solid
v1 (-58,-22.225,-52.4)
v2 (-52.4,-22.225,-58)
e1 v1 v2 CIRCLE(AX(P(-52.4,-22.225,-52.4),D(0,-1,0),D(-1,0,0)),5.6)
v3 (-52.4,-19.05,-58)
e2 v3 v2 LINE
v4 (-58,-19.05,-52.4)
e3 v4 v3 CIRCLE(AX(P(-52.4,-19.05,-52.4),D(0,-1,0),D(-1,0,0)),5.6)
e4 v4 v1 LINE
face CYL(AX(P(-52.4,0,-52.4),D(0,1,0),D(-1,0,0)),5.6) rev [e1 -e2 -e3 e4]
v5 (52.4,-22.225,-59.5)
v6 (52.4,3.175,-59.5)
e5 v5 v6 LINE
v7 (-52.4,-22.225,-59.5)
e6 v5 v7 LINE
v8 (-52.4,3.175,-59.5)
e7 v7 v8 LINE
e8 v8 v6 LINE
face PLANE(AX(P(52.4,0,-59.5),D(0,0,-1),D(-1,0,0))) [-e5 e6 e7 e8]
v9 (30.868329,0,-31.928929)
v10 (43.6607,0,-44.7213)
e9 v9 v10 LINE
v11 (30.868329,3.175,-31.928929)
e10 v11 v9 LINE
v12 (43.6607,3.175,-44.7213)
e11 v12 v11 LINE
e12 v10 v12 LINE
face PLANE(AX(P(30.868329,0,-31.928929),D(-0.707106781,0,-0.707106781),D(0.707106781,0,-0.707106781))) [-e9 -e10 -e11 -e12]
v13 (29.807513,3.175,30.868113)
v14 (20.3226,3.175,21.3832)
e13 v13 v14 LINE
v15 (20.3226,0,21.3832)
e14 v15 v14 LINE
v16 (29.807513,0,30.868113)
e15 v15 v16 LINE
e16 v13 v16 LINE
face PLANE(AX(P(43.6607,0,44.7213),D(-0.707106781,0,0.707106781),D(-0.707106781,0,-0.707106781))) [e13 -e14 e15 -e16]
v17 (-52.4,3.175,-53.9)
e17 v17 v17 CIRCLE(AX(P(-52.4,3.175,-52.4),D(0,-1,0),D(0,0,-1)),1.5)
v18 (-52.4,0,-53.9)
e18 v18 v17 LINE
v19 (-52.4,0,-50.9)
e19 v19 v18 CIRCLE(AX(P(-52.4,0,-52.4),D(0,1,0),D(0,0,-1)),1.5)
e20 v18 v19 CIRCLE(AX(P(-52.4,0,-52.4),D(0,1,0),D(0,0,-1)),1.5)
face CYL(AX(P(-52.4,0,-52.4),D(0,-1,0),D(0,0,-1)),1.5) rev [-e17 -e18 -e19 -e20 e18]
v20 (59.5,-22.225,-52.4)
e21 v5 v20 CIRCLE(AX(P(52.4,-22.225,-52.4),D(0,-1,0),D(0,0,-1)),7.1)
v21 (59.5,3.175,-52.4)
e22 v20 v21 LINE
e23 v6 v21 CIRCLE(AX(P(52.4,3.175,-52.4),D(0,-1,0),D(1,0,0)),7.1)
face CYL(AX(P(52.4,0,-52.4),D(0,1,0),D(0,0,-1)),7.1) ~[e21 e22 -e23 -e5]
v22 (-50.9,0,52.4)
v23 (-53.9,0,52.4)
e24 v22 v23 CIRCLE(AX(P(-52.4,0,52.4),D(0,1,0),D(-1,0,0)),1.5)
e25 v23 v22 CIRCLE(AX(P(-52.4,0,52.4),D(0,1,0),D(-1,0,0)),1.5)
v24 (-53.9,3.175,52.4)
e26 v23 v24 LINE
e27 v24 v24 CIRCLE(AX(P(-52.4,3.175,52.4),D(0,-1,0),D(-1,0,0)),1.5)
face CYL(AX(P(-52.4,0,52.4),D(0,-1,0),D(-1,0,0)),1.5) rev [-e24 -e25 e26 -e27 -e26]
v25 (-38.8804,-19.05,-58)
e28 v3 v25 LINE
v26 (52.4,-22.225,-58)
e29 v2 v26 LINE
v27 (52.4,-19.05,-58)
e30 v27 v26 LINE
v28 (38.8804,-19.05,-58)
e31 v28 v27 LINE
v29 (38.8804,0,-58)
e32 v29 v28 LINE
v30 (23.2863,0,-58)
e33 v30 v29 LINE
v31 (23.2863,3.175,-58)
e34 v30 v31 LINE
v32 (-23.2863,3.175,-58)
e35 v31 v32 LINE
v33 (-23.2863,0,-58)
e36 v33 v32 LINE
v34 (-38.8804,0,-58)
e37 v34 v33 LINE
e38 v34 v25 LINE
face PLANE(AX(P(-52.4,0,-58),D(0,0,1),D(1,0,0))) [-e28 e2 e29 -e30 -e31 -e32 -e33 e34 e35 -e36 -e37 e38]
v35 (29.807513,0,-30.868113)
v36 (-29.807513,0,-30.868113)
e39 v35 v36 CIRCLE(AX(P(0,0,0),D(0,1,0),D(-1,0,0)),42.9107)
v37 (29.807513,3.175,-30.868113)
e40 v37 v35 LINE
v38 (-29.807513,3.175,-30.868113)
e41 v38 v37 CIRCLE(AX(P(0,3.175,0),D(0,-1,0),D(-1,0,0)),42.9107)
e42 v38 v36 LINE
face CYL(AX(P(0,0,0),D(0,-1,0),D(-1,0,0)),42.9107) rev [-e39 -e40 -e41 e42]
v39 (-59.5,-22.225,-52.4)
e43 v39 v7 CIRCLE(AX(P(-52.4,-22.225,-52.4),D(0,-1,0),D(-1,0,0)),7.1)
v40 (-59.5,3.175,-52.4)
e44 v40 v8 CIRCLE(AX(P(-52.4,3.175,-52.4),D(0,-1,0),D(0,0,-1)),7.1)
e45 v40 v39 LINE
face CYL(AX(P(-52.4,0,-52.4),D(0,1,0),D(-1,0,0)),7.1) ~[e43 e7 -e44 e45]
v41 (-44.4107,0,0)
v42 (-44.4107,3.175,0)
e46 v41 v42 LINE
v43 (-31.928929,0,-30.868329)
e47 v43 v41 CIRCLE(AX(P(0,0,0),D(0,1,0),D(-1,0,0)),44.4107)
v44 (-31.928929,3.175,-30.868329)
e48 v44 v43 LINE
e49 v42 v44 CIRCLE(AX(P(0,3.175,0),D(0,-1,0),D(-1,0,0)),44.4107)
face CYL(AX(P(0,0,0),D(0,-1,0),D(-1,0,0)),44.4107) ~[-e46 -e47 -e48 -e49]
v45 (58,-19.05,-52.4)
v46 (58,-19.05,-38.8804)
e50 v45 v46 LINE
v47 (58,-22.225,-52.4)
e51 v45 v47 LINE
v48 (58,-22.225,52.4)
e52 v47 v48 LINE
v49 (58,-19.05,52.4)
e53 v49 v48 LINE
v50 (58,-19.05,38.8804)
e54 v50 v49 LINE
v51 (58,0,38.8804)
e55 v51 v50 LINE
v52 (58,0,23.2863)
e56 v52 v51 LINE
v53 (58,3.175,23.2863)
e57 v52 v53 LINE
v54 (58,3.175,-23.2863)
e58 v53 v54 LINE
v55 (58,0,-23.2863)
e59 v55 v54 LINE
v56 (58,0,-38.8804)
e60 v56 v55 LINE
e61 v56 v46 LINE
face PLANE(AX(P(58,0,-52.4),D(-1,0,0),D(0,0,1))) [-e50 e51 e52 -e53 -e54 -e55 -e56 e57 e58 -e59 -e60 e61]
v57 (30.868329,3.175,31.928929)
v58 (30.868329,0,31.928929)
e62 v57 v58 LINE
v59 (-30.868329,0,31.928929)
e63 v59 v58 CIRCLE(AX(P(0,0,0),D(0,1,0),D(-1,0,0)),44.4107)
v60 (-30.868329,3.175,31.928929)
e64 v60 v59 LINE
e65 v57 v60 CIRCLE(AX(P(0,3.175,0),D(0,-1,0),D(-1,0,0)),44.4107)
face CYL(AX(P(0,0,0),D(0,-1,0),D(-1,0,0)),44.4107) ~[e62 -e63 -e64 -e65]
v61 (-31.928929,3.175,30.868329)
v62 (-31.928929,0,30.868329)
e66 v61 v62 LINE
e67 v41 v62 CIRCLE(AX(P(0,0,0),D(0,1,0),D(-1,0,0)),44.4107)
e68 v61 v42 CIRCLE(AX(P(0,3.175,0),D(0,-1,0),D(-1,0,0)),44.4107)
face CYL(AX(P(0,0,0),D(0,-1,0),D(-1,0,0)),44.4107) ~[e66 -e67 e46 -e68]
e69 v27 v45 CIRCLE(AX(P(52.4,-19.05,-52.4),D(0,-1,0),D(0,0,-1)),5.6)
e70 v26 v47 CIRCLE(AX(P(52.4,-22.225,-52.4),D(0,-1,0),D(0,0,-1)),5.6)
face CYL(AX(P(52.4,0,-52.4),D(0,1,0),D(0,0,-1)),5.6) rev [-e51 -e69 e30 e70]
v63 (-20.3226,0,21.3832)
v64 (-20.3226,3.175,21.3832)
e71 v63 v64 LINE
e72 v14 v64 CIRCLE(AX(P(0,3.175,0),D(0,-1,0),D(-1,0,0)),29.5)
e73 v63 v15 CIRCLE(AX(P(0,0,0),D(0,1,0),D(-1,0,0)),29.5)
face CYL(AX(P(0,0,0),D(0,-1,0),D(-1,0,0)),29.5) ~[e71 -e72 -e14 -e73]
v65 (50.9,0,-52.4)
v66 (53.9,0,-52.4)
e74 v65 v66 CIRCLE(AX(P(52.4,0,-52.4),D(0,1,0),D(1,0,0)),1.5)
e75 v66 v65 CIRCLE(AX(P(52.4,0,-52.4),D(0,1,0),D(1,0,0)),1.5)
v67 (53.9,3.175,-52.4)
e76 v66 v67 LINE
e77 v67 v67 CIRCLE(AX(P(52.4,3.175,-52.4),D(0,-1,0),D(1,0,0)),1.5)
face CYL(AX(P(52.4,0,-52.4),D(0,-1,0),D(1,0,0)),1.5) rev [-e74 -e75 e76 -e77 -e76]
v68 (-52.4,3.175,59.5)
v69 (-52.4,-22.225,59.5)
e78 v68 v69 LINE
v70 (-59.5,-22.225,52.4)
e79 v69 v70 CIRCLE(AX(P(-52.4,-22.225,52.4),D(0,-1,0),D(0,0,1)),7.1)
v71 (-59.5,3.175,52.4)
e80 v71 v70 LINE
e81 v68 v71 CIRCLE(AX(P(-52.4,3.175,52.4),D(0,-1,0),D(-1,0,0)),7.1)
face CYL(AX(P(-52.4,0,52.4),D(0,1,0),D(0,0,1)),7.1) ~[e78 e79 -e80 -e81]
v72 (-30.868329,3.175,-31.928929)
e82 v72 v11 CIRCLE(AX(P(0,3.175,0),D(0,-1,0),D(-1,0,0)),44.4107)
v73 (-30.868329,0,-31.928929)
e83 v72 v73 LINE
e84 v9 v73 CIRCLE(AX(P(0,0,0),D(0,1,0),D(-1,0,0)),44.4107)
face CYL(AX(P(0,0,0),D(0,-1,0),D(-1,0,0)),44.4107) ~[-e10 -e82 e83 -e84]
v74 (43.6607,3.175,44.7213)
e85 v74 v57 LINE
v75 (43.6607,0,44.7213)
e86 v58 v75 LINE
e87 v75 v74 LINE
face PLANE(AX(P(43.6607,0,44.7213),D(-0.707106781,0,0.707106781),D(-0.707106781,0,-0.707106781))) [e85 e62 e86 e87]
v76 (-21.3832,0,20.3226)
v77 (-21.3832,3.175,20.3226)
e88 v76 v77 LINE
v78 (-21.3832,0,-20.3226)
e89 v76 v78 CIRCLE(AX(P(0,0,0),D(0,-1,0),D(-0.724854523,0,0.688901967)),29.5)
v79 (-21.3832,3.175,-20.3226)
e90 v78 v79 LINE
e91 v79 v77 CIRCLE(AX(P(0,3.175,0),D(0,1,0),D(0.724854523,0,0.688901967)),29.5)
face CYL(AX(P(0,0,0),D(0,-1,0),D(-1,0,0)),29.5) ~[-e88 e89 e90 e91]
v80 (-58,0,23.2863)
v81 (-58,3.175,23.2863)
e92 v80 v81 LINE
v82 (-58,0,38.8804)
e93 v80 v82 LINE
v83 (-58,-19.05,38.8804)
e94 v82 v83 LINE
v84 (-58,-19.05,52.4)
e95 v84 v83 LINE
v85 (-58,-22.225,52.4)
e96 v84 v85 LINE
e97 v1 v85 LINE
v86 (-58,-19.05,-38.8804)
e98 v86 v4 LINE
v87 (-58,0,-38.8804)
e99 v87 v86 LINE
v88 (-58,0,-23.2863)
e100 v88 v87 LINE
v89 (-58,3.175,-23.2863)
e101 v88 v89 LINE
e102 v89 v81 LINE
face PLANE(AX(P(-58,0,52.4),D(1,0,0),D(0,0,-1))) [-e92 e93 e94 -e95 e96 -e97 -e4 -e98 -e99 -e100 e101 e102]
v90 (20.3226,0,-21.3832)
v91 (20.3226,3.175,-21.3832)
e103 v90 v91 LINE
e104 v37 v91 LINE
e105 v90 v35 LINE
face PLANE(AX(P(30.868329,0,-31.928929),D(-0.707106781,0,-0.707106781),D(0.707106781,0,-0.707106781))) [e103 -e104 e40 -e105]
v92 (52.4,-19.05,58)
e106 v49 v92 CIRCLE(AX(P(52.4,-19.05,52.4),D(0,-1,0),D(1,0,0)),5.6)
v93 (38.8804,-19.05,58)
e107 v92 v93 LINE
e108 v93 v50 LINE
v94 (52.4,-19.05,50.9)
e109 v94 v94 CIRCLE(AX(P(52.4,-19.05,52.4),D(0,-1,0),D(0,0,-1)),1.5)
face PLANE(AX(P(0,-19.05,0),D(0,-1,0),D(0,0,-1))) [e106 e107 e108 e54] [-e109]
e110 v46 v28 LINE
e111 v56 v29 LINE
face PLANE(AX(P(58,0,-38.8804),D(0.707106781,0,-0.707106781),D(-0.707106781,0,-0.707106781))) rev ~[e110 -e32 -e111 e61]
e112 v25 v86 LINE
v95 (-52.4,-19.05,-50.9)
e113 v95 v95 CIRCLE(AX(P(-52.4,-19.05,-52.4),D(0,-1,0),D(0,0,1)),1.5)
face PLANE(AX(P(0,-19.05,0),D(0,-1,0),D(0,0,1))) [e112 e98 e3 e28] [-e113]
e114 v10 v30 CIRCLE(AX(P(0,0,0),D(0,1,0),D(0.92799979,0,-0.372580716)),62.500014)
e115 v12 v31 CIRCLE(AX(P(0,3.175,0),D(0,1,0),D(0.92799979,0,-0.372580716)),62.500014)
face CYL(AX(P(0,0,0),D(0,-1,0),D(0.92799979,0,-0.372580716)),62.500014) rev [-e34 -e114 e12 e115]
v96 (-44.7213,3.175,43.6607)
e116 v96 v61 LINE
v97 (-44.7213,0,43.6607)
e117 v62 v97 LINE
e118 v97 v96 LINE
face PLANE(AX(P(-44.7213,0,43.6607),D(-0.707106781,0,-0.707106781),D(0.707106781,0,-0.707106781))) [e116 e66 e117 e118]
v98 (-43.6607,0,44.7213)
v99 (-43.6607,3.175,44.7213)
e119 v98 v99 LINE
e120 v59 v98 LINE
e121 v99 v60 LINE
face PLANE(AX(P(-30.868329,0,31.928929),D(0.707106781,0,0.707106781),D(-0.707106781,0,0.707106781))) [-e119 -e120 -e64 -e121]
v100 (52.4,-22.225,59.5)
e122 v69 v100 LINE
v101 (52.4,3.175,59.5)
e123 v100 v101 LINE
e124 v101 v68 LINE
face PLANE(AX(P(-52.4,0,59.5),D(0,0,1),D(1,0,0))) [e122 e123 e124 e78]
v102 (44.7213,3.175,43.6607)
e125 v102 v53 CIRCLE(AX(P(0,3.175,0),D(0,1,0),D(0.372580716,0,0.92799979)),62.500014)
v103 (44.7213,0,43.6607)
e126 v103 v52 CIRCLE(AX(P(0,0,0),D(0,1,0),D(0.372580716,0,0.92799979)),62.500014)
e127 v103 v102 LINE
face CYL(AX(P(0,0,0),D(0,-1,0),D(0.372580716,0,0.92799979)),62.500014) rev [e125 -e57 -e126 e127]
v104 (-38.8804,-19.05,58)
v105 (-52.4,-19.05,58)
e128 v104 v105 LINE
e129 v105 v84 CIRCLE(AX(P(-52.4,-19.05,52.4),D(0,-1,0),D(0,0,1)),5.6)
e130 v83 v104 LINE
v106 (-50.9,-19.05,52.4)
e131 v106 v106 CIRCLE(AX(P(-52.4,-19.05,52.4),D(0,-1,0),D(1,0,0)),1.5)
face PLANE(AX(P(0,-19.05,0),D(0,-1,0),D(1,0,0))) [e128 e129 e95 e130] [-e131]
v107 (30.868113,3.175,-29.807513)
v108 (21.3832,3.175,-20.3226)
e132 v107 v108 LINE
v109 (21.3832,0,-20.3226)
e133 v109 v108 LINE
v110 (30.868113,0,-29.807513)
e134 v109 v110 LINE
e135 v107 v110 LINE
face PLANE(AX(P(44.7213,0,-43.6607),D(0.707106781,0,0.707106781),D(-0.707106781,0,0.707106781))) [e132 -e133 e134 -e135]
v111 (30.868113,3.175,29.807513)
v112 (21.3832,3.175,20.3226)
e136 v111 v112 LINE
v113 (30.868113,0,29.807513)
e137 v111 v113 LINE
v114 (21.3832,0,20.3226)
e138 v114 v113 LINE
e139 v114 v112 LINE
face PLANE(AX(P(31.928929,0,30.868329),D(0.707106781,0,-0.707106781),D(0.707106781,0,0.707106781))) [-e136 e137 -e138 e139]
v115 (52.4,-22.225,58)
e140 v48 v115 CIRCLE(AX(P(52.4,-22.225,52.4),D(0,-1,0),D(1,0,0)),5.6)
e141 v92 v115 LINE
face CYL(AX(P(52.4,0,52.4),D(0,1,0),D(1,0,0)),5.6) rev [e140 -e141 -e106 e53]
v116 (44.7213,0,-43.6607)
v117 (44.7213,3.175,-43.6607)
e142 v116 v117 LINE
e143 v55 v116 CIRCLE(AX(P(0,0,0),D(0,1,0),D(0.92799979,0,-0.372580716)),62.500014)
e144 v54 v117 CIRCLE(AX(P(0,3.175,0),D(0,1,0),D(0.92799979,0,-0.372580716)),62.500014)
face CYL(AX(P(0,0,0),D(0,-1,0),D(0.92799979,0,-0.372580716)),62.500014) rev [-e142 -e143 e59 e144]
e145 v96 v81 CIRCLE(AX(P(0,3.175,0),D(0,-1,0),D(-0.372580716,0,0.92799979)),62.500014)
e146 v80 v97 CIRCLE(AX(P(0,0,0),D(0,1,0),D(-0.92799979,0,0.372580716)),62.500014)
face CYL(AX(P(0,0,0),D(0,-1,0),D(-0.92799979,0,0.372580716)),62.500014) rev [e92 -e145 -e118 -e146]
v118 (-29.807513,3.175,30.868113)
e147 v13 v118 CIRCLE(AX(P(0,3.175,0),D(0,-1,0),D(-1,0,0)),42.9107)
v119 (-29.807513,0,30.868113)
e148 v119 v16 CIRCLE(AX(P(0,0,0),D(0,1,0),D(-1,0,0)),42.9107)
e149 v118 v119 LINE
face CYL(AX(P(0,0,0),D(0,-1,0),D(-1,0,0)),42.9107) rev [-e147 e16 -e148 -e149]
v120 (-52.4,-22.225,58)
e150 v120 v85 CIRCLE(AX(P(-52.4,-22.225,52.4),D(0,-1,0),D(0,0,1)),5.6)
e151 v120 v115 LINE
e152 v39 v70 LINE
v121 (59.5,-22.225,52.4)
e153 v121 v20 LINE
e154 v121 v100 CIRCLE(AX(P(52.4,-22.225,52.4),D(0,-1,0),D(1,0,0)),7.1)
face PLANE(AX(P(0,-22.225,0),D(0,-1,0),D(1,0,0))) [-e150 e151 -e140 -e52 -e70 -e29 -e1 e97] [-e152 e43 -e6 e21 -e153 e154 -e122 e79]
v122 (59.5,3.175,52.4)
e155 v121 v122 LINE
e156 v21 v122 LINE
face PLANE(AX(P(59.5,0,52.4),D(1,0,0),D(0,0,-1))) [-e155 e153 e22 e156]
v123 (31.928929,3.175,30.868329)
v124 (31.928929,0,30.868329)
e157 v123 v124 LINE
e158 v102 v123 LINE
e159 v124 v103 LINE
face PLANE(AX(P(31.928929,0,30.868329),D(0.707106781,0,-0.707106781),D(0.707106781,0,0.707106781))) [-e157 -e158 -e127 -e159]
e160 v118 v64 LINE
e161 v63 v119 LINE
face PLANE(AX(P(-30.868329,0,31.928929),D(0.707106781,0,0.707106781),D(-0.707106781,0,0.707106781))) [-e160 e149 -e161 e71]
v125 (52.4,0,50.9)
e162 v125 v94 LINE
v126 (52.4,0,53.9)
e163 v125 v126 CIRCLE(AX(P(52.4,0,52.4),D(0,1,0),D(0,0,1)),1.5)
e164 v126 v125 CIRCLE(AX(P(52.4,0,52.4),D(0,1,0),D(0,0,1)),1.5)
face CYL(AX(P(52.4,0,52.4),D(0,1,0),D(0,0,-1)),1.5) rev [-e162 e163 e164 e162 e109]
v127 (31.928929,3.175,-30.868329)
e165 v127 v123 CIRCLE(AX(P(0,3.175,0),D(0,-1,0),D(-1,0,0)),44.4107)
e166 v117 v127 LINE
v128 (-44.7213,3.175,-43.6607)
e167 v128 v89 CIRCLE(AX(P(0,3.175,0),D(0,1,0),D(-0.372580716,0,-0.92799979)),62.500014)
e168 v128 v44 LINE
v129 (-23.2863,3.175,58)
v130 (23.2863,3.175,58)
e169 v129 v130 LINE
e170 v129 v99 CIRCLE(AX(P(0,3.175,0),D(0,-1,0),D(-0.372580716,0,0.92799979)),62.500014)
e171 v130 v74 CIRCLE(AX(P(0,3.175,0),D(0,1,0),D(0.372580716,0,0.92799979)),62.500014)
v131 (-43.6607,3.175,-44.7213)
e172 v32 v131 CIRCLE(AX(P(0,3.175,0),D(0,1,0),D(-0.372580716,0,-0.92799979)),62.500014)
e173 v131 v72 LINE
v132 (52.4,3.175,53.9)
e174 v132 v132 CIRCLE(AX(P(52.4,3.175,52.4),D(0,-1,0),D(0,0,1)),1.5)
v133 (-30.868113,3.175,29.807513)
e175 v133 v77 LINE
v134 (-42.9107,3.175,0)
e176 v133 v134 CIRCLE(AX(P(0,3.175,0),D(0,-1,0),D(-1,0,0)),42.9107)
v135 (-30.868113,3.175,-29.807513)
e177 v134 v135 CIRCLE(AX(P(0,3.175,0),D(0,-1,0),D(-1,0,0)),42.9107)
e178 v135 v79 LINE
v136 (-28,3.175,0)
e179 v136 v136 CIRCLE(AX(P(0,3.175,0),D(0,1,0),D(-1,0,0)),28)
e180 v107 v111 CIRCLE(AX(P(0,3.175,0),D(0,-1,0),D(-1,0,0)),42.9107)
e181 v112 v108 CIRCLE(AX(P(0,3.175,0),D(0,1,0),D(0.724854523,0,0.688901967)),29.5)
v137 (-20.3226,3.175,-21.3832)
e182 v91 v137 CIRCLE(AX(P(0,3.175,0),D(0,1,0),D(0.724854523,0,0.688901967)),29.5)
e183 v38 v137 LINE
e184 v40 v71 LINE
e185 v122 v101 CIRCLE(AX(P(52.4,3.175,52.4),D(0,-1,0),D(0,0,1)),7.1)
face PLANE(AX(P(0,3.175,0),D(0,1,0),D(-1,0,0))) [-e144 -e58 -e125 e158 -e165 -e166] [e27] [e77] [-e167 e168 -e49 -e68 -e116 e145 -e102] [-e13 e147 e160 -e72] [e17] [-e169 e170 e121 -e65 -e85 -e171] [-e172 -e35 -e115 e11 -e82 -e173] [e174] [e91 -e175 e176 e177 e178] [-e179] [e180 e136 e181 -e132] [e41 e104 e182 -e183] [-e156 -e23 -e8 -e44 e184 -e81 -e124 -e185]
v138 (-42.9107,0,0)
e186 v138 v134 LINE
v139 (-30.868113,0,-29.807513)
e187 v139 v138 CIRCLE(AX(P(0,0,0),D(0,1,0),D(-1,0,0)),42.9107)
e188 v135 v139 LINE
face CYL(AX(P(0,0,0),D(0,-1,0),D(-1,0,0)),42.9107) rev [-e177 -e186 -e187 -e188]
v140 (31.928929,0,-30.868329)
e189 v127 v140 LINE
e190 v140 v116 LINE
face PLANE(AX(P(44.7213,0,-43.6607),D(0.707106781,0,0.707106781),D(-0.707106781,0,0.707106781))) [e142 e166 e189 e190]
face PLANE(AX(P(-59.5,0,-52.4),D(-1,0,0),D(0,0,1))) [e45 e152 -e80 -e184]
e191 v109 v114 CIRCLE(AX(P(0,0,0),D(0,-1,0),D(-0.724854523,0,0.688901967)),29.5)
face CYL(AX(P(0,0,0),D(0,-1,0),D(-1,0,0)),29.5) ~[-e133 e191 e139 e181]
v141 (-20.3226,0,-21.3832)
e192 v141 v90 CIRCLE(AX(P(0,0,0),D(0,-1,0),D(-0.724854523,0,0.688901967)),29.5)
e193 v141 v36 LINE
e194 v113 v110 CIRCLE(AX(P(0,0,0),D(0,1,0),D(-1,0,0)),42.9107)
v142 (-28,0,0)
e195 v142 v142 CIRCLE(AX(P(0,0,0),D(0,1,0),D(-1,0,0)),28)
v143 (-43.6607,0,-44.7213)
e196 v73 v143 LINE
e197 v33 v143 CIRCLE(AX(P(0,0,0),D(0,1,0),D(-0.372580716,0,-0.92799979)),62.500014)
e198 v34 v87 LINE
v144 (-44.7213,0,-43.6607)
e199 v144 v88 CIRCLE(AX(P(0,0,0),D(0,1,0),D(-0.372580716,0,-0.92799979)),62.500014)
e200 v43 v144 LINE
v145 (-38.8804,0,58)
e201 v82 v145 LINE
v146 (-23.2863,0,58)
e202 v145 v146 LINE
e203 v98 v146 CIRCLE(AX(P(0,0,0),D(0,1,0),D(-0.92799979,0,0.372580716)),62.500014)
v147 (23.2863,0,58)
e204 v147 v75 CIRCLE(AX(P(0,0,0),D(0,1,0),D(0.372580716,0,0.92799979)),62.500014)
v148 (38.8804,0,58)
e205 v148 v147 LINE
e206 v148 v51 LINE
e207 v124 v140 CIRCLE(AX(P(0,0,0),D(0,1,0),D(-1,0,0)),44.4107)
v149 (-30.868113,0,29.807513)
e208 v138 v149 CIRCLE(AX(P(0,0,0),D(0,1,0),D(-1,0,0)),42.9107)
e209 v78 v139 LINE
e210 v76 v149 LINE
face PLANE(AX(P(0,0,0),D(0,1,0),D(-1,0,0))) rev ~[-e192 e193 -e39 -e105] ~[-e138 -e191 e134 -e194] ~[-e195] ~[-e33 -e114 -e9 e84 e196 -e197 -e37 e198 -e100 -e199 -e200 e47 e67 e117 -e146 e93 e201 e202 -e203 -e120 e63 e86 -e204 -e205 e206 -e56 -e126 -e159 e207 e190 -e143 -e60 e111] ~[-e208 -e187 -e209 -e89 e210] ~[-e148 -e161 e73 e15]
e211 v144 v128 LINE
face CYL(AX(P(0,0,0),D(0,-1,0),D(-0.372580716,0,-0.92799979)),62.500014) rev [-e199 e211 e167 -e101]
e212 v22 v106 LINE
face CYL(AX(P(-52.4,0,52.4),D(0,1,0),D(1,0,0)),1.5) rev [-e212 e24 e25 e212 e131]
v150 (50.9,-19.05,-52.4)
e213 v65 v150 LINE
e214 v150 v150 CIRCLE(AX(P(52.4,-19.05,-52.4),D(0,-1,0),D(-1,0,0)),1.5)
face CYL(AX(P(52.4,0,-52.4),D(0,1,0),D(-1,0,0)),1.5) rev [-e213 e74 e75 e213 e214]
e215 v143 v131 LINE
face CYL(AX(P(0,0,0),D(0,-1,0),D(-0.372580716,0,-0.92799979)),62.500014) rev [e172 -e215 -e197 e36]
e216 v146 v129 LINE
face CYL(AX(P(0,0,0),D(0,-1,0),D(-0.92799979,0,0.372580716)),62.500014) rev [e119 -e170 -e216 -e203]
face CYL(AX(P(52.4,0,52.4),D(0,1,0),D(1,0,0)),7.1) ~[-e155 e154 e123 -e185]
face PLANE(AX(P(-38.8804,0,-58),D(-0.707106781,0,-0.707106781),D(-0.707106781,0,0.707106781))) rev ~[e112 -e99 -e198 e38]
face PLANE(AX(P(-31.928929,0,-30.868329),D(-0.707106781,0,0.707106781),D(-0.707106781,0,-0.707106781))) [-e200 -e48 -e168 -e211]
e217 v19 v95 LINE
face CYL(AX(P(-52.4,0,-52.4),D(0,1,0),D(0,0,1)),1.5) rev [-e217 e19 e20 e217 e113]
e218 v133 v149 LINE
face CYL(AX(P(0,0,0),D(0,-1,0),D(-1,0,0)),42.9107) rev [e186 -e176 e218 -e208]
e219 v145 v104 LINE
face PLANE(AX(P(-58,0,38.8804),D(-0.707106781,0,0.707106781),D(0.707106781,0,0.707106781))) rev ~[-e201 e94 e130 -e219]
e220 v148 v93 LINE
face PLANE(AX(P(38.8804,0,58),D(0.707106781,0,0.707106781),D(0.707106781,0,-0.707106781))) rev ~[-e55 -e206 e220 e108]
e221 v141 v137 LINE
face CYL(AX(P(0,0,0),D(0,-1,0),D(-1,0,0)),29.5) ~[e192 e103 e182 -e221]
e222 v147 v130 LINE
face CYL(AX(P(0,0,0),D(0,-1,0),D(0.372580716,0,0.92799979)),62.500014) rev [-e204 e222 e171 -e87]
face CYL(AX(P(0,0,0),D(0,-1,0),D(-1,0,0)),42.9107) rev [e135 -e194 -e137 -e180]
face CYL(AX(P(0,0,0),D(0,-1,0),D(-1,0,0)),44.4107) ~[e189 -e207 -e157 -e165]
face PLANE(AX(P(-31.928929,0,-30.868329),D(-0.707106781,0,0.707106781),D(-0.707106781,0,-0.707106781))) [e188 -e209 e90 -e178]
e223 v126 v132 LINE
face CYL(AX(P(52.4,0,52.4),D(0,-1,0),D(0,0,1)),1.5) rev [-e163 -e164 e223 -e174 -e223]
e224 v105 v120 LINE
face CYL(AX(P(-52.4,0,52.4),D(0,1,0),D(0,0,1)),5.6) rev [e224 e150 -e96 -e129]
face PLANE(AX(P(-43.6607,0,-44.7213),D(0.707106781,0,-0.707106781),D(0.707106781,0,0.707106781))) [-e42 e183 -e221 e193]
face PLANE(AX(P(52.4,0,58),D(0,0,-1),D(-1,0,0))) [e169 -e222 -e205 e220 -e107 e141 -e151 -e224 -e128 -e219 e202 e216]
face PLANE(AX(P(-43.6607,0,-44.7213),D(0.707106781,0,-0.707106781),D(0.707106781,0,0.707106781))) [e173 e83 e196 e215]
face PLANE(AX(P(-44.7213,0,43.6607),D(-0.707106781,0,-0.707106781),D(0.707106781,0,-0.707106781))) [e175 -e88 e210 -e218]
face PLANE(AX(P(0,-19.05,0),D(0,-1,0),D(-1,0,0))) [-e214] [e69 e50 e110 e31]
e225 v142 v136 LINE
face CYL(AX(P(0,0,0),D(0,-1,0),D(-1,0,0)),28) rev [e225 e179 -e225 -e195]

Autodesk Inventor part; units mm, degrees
ref_plane "YZ Plane" through (0, 0, 0) normal (1, 0, 0) x (0, 1, 0)
ref_plane "XZ Plane" through (0, 0, 0) normal (0, 1, 0) x (-1, 0, 0)
ref_plane "XY Plane" through (0, 0, 0) normal (0, 0, 1) x (1, 0, 0)
sketch "Sketch1" plane through (0, 0, 0) normal (0, 1, 0) x (-1, 0, 0)
  line L0 (-59.5, 59.5) -> (59.5, 59.5)
  line L1 (59.5, 59.5) -> (59.5, -59.5)
  line L2 (59.5, -59.5) -> (-59.5, -59.5)
  line L3 (-59.5, -59.5) -> (-59.5, 59.5)
  line L4 (-59.5, 59.5) -> (59.5, -59.5) construction
  line L5 (59.5, 59.5) -> (-59.5, -59.5) construction
  circle A0 centre (52.4, 52.4) radius 1.5
  circle A1 centre (52.4, -52.4) radius 1.5
  arc A2 (58, 23.2863) -> (23.2863, 58) centre (0, 0) ccw
  arc A3 (23.2863, -58) -> (58, -23.2863) centre (0, 0) ccw
  arc A4 (-58, -23.2863) -> (-23.2863, -58) centre (0, 0) ccw
  arc A5 (-23.2863, 58) -> (-58, 23.2863) centre (0, 0) ccw
  line L6 (23.2863, 58) -> (-23.2863, 58)
  line L7 (-58, 23.2863) -> (-58, -23.2863)
  line L8 (-23.2863, -58) -> (23.2863, -58)
  line L9 (58, -23.2863) -> (58, 23.2863)
  arc A6 (59.5, 52.4) -> (52.4, 59.5) centre (52.4, 52.4) ccw
  line L10 (48.2954, 59.5) -> (44.1942, 44.1942)
  line L11 (44.1942, 44.1942) -> (59.5, 48.2954)
  circle A7 centre (0, 0) radius 28
  circle A8 centre (0, 0) radius 29.5
  line L12 (44.7213, 43.6607) -> (21.3832, 20.3226)
  line L13 (20.3226, 21.3832) -> (43.6607, 44.7213)
  circle A9 centre (0, 0) radius 43.6607 construction
  line L14 (44.7213, 43.6607) -> (0, 43.6607) construction
  circle A10 centre (0, 0) radius 44.4107
  circle A11 centre (0, 0) radius 42.9107
  point P0 (0, 58)
  dimension "d0" = 119
  dimension "d1" = 3
  dimension "d2" = 104.8
  dimension "d4" = 62.5
  dimension "d7" = 116
  dimension "d9" = 30
  dimension "d38" = 56
  dimension "d39" = 1.5
  dimension "d40" = 1.5
  dimension "d41" = 1.5
  dimension "d83" = 1.5
  dimension "d84" = 0.75
extrude "Extrusion8" add sketch "Sketch1" along normal blind 3.175 contours L0 L10 L11 L1 L2 L3 | L0 A6 L1 L11 L10 | L0 L1 A6 | A8 | A0 | A1
extrude "Extrusion9" add sketch "Sketch1" along normal blind 3.175 contours A2 L12 A10 L13 | L12 A11 L13 A10 | L12 A8 L13 A11 picked at (31.1052, 30.2803) picked at (23.6041, 24.429)
extrude "Extrusion10" cut sketch "Sketch1" along normal up to next contours L0 L1 A6 | A0
pattern_circular "Circular Pattern4" count 4 over 360 about axis through (0, 0, 0) along (0, 1, 0) of "Extrusion10", "Extrusion9"
sketch "Sketch4" plane through (0, 0, 0) normal (0, -1, 0) x (1, 0, 0)
  arc A0 (-52.4, 59.5) -> (-59.5, 52.4) centre (-52.4, 52.4) ccw projected
  line L0 (-52.4, 59.5) -> (52.4, 59.5) projected
  line L1 (-59.5, -52.4) -> (-59.5, 52.4) projected
  arc A1 (-59.5, -52.4) -> (-52.4, -59.5) centre (-52.4, -52.4) ccw projected
  line L2 (52.4, -59.5) -> (-52.4, -59.5) projected
  arc A2 (52.4, -59.5) -> (59.5, -52.4) centre (52.4, -52.4) ccw projected
  line L3 (59.5, 52.4) -> (59.5, -52.4) projected
  arc A3 (59.5, 52.4) -> (52.4, 59.5) centre (52.4, 52.4) ccw projected
  line L4 (52.4, 58) -> (-52.4, 58)
  arc A4 (-52.4, 58) -> (-58, 52.4) centre (-52.4, 52.4) ccw
  line L5 (-58, 52.4) -> (-58, -52.4)
  arc A5 (-58, -52.4) -> (-52.4, -58) centre (-52.4, -52.4) ccw
  line L6 (-52.4, -58) -> (52.4, -58)
  arc A6 (52.4, -58) -> (58, -52.4) centre (52.4, -52.4) ccw
  line L7 (58, -52.4) -> (58, 52.4)
  arc A7 (58, 52.4) -> (52.4, 58) centre (52.4, 52.4) ccw
  line L8 (-58, 38.8804) -> (-38.8804, 58)
  line L9 (-52.4, 52.4) -> (-48.4402, 48.4402) construction
  line L10 (-52.4, 52.4) -> (-56.3598, 56.3598) construction
  circle A8 centre (-52.4, 52.4) radius 1.5 projected
  point P0 (0, 0)
  dimension "d51" = 1.5
  dimension "d52" = 45
extrude "Extrusion11" add sketch "Sketch4" along normal blind 22.225 contours L0 A3 L3 A2 L2 A1 L1 A0
extrude "Extrusion12" add sketch "Sketch4" along normal blind 19.05 contours L8 L5 A4 L4
pattern_circular "Circular Pattern5" count 4 over 360 about axis through (0, 0, 0) along (0, 1, 0) of "Extrusion12"
extrude "Extrusion18" add sketch "Sketch1" along normal blind 3.175 contours A10 L13 A11 L12 | L12 A11 L13 A10
equation "\"d0\" = length"
equation "\"d1\" = holeSize"
equation "\"d2\" = dHoles"
equation "\"d4\" = 0.5 * fanDia"
equation "\"d7\" = fanCutOff"
equation "\"d38\" = fanCenter"
equation "\"d40\" = d39"
equation "\"d41\" = d40"
equation "\"d83\" = d39"
equation "\"d84\" = 0.5 * d39"
equation "\"d51\" = d40"
equation "\"d55\" = filterHeight"
equation "\"holeSize\" = 3"
equation "\"filterHeight\" = 19.05"
equation "\"length\" = 119"
equation "\"dHoles\" = 104.8"
equation "\"fanDia\" = 125"
equation "\"fanCutOff\" = 116"
equation "\"fanCenter\" = 56"
properties part number "filterFrame"
